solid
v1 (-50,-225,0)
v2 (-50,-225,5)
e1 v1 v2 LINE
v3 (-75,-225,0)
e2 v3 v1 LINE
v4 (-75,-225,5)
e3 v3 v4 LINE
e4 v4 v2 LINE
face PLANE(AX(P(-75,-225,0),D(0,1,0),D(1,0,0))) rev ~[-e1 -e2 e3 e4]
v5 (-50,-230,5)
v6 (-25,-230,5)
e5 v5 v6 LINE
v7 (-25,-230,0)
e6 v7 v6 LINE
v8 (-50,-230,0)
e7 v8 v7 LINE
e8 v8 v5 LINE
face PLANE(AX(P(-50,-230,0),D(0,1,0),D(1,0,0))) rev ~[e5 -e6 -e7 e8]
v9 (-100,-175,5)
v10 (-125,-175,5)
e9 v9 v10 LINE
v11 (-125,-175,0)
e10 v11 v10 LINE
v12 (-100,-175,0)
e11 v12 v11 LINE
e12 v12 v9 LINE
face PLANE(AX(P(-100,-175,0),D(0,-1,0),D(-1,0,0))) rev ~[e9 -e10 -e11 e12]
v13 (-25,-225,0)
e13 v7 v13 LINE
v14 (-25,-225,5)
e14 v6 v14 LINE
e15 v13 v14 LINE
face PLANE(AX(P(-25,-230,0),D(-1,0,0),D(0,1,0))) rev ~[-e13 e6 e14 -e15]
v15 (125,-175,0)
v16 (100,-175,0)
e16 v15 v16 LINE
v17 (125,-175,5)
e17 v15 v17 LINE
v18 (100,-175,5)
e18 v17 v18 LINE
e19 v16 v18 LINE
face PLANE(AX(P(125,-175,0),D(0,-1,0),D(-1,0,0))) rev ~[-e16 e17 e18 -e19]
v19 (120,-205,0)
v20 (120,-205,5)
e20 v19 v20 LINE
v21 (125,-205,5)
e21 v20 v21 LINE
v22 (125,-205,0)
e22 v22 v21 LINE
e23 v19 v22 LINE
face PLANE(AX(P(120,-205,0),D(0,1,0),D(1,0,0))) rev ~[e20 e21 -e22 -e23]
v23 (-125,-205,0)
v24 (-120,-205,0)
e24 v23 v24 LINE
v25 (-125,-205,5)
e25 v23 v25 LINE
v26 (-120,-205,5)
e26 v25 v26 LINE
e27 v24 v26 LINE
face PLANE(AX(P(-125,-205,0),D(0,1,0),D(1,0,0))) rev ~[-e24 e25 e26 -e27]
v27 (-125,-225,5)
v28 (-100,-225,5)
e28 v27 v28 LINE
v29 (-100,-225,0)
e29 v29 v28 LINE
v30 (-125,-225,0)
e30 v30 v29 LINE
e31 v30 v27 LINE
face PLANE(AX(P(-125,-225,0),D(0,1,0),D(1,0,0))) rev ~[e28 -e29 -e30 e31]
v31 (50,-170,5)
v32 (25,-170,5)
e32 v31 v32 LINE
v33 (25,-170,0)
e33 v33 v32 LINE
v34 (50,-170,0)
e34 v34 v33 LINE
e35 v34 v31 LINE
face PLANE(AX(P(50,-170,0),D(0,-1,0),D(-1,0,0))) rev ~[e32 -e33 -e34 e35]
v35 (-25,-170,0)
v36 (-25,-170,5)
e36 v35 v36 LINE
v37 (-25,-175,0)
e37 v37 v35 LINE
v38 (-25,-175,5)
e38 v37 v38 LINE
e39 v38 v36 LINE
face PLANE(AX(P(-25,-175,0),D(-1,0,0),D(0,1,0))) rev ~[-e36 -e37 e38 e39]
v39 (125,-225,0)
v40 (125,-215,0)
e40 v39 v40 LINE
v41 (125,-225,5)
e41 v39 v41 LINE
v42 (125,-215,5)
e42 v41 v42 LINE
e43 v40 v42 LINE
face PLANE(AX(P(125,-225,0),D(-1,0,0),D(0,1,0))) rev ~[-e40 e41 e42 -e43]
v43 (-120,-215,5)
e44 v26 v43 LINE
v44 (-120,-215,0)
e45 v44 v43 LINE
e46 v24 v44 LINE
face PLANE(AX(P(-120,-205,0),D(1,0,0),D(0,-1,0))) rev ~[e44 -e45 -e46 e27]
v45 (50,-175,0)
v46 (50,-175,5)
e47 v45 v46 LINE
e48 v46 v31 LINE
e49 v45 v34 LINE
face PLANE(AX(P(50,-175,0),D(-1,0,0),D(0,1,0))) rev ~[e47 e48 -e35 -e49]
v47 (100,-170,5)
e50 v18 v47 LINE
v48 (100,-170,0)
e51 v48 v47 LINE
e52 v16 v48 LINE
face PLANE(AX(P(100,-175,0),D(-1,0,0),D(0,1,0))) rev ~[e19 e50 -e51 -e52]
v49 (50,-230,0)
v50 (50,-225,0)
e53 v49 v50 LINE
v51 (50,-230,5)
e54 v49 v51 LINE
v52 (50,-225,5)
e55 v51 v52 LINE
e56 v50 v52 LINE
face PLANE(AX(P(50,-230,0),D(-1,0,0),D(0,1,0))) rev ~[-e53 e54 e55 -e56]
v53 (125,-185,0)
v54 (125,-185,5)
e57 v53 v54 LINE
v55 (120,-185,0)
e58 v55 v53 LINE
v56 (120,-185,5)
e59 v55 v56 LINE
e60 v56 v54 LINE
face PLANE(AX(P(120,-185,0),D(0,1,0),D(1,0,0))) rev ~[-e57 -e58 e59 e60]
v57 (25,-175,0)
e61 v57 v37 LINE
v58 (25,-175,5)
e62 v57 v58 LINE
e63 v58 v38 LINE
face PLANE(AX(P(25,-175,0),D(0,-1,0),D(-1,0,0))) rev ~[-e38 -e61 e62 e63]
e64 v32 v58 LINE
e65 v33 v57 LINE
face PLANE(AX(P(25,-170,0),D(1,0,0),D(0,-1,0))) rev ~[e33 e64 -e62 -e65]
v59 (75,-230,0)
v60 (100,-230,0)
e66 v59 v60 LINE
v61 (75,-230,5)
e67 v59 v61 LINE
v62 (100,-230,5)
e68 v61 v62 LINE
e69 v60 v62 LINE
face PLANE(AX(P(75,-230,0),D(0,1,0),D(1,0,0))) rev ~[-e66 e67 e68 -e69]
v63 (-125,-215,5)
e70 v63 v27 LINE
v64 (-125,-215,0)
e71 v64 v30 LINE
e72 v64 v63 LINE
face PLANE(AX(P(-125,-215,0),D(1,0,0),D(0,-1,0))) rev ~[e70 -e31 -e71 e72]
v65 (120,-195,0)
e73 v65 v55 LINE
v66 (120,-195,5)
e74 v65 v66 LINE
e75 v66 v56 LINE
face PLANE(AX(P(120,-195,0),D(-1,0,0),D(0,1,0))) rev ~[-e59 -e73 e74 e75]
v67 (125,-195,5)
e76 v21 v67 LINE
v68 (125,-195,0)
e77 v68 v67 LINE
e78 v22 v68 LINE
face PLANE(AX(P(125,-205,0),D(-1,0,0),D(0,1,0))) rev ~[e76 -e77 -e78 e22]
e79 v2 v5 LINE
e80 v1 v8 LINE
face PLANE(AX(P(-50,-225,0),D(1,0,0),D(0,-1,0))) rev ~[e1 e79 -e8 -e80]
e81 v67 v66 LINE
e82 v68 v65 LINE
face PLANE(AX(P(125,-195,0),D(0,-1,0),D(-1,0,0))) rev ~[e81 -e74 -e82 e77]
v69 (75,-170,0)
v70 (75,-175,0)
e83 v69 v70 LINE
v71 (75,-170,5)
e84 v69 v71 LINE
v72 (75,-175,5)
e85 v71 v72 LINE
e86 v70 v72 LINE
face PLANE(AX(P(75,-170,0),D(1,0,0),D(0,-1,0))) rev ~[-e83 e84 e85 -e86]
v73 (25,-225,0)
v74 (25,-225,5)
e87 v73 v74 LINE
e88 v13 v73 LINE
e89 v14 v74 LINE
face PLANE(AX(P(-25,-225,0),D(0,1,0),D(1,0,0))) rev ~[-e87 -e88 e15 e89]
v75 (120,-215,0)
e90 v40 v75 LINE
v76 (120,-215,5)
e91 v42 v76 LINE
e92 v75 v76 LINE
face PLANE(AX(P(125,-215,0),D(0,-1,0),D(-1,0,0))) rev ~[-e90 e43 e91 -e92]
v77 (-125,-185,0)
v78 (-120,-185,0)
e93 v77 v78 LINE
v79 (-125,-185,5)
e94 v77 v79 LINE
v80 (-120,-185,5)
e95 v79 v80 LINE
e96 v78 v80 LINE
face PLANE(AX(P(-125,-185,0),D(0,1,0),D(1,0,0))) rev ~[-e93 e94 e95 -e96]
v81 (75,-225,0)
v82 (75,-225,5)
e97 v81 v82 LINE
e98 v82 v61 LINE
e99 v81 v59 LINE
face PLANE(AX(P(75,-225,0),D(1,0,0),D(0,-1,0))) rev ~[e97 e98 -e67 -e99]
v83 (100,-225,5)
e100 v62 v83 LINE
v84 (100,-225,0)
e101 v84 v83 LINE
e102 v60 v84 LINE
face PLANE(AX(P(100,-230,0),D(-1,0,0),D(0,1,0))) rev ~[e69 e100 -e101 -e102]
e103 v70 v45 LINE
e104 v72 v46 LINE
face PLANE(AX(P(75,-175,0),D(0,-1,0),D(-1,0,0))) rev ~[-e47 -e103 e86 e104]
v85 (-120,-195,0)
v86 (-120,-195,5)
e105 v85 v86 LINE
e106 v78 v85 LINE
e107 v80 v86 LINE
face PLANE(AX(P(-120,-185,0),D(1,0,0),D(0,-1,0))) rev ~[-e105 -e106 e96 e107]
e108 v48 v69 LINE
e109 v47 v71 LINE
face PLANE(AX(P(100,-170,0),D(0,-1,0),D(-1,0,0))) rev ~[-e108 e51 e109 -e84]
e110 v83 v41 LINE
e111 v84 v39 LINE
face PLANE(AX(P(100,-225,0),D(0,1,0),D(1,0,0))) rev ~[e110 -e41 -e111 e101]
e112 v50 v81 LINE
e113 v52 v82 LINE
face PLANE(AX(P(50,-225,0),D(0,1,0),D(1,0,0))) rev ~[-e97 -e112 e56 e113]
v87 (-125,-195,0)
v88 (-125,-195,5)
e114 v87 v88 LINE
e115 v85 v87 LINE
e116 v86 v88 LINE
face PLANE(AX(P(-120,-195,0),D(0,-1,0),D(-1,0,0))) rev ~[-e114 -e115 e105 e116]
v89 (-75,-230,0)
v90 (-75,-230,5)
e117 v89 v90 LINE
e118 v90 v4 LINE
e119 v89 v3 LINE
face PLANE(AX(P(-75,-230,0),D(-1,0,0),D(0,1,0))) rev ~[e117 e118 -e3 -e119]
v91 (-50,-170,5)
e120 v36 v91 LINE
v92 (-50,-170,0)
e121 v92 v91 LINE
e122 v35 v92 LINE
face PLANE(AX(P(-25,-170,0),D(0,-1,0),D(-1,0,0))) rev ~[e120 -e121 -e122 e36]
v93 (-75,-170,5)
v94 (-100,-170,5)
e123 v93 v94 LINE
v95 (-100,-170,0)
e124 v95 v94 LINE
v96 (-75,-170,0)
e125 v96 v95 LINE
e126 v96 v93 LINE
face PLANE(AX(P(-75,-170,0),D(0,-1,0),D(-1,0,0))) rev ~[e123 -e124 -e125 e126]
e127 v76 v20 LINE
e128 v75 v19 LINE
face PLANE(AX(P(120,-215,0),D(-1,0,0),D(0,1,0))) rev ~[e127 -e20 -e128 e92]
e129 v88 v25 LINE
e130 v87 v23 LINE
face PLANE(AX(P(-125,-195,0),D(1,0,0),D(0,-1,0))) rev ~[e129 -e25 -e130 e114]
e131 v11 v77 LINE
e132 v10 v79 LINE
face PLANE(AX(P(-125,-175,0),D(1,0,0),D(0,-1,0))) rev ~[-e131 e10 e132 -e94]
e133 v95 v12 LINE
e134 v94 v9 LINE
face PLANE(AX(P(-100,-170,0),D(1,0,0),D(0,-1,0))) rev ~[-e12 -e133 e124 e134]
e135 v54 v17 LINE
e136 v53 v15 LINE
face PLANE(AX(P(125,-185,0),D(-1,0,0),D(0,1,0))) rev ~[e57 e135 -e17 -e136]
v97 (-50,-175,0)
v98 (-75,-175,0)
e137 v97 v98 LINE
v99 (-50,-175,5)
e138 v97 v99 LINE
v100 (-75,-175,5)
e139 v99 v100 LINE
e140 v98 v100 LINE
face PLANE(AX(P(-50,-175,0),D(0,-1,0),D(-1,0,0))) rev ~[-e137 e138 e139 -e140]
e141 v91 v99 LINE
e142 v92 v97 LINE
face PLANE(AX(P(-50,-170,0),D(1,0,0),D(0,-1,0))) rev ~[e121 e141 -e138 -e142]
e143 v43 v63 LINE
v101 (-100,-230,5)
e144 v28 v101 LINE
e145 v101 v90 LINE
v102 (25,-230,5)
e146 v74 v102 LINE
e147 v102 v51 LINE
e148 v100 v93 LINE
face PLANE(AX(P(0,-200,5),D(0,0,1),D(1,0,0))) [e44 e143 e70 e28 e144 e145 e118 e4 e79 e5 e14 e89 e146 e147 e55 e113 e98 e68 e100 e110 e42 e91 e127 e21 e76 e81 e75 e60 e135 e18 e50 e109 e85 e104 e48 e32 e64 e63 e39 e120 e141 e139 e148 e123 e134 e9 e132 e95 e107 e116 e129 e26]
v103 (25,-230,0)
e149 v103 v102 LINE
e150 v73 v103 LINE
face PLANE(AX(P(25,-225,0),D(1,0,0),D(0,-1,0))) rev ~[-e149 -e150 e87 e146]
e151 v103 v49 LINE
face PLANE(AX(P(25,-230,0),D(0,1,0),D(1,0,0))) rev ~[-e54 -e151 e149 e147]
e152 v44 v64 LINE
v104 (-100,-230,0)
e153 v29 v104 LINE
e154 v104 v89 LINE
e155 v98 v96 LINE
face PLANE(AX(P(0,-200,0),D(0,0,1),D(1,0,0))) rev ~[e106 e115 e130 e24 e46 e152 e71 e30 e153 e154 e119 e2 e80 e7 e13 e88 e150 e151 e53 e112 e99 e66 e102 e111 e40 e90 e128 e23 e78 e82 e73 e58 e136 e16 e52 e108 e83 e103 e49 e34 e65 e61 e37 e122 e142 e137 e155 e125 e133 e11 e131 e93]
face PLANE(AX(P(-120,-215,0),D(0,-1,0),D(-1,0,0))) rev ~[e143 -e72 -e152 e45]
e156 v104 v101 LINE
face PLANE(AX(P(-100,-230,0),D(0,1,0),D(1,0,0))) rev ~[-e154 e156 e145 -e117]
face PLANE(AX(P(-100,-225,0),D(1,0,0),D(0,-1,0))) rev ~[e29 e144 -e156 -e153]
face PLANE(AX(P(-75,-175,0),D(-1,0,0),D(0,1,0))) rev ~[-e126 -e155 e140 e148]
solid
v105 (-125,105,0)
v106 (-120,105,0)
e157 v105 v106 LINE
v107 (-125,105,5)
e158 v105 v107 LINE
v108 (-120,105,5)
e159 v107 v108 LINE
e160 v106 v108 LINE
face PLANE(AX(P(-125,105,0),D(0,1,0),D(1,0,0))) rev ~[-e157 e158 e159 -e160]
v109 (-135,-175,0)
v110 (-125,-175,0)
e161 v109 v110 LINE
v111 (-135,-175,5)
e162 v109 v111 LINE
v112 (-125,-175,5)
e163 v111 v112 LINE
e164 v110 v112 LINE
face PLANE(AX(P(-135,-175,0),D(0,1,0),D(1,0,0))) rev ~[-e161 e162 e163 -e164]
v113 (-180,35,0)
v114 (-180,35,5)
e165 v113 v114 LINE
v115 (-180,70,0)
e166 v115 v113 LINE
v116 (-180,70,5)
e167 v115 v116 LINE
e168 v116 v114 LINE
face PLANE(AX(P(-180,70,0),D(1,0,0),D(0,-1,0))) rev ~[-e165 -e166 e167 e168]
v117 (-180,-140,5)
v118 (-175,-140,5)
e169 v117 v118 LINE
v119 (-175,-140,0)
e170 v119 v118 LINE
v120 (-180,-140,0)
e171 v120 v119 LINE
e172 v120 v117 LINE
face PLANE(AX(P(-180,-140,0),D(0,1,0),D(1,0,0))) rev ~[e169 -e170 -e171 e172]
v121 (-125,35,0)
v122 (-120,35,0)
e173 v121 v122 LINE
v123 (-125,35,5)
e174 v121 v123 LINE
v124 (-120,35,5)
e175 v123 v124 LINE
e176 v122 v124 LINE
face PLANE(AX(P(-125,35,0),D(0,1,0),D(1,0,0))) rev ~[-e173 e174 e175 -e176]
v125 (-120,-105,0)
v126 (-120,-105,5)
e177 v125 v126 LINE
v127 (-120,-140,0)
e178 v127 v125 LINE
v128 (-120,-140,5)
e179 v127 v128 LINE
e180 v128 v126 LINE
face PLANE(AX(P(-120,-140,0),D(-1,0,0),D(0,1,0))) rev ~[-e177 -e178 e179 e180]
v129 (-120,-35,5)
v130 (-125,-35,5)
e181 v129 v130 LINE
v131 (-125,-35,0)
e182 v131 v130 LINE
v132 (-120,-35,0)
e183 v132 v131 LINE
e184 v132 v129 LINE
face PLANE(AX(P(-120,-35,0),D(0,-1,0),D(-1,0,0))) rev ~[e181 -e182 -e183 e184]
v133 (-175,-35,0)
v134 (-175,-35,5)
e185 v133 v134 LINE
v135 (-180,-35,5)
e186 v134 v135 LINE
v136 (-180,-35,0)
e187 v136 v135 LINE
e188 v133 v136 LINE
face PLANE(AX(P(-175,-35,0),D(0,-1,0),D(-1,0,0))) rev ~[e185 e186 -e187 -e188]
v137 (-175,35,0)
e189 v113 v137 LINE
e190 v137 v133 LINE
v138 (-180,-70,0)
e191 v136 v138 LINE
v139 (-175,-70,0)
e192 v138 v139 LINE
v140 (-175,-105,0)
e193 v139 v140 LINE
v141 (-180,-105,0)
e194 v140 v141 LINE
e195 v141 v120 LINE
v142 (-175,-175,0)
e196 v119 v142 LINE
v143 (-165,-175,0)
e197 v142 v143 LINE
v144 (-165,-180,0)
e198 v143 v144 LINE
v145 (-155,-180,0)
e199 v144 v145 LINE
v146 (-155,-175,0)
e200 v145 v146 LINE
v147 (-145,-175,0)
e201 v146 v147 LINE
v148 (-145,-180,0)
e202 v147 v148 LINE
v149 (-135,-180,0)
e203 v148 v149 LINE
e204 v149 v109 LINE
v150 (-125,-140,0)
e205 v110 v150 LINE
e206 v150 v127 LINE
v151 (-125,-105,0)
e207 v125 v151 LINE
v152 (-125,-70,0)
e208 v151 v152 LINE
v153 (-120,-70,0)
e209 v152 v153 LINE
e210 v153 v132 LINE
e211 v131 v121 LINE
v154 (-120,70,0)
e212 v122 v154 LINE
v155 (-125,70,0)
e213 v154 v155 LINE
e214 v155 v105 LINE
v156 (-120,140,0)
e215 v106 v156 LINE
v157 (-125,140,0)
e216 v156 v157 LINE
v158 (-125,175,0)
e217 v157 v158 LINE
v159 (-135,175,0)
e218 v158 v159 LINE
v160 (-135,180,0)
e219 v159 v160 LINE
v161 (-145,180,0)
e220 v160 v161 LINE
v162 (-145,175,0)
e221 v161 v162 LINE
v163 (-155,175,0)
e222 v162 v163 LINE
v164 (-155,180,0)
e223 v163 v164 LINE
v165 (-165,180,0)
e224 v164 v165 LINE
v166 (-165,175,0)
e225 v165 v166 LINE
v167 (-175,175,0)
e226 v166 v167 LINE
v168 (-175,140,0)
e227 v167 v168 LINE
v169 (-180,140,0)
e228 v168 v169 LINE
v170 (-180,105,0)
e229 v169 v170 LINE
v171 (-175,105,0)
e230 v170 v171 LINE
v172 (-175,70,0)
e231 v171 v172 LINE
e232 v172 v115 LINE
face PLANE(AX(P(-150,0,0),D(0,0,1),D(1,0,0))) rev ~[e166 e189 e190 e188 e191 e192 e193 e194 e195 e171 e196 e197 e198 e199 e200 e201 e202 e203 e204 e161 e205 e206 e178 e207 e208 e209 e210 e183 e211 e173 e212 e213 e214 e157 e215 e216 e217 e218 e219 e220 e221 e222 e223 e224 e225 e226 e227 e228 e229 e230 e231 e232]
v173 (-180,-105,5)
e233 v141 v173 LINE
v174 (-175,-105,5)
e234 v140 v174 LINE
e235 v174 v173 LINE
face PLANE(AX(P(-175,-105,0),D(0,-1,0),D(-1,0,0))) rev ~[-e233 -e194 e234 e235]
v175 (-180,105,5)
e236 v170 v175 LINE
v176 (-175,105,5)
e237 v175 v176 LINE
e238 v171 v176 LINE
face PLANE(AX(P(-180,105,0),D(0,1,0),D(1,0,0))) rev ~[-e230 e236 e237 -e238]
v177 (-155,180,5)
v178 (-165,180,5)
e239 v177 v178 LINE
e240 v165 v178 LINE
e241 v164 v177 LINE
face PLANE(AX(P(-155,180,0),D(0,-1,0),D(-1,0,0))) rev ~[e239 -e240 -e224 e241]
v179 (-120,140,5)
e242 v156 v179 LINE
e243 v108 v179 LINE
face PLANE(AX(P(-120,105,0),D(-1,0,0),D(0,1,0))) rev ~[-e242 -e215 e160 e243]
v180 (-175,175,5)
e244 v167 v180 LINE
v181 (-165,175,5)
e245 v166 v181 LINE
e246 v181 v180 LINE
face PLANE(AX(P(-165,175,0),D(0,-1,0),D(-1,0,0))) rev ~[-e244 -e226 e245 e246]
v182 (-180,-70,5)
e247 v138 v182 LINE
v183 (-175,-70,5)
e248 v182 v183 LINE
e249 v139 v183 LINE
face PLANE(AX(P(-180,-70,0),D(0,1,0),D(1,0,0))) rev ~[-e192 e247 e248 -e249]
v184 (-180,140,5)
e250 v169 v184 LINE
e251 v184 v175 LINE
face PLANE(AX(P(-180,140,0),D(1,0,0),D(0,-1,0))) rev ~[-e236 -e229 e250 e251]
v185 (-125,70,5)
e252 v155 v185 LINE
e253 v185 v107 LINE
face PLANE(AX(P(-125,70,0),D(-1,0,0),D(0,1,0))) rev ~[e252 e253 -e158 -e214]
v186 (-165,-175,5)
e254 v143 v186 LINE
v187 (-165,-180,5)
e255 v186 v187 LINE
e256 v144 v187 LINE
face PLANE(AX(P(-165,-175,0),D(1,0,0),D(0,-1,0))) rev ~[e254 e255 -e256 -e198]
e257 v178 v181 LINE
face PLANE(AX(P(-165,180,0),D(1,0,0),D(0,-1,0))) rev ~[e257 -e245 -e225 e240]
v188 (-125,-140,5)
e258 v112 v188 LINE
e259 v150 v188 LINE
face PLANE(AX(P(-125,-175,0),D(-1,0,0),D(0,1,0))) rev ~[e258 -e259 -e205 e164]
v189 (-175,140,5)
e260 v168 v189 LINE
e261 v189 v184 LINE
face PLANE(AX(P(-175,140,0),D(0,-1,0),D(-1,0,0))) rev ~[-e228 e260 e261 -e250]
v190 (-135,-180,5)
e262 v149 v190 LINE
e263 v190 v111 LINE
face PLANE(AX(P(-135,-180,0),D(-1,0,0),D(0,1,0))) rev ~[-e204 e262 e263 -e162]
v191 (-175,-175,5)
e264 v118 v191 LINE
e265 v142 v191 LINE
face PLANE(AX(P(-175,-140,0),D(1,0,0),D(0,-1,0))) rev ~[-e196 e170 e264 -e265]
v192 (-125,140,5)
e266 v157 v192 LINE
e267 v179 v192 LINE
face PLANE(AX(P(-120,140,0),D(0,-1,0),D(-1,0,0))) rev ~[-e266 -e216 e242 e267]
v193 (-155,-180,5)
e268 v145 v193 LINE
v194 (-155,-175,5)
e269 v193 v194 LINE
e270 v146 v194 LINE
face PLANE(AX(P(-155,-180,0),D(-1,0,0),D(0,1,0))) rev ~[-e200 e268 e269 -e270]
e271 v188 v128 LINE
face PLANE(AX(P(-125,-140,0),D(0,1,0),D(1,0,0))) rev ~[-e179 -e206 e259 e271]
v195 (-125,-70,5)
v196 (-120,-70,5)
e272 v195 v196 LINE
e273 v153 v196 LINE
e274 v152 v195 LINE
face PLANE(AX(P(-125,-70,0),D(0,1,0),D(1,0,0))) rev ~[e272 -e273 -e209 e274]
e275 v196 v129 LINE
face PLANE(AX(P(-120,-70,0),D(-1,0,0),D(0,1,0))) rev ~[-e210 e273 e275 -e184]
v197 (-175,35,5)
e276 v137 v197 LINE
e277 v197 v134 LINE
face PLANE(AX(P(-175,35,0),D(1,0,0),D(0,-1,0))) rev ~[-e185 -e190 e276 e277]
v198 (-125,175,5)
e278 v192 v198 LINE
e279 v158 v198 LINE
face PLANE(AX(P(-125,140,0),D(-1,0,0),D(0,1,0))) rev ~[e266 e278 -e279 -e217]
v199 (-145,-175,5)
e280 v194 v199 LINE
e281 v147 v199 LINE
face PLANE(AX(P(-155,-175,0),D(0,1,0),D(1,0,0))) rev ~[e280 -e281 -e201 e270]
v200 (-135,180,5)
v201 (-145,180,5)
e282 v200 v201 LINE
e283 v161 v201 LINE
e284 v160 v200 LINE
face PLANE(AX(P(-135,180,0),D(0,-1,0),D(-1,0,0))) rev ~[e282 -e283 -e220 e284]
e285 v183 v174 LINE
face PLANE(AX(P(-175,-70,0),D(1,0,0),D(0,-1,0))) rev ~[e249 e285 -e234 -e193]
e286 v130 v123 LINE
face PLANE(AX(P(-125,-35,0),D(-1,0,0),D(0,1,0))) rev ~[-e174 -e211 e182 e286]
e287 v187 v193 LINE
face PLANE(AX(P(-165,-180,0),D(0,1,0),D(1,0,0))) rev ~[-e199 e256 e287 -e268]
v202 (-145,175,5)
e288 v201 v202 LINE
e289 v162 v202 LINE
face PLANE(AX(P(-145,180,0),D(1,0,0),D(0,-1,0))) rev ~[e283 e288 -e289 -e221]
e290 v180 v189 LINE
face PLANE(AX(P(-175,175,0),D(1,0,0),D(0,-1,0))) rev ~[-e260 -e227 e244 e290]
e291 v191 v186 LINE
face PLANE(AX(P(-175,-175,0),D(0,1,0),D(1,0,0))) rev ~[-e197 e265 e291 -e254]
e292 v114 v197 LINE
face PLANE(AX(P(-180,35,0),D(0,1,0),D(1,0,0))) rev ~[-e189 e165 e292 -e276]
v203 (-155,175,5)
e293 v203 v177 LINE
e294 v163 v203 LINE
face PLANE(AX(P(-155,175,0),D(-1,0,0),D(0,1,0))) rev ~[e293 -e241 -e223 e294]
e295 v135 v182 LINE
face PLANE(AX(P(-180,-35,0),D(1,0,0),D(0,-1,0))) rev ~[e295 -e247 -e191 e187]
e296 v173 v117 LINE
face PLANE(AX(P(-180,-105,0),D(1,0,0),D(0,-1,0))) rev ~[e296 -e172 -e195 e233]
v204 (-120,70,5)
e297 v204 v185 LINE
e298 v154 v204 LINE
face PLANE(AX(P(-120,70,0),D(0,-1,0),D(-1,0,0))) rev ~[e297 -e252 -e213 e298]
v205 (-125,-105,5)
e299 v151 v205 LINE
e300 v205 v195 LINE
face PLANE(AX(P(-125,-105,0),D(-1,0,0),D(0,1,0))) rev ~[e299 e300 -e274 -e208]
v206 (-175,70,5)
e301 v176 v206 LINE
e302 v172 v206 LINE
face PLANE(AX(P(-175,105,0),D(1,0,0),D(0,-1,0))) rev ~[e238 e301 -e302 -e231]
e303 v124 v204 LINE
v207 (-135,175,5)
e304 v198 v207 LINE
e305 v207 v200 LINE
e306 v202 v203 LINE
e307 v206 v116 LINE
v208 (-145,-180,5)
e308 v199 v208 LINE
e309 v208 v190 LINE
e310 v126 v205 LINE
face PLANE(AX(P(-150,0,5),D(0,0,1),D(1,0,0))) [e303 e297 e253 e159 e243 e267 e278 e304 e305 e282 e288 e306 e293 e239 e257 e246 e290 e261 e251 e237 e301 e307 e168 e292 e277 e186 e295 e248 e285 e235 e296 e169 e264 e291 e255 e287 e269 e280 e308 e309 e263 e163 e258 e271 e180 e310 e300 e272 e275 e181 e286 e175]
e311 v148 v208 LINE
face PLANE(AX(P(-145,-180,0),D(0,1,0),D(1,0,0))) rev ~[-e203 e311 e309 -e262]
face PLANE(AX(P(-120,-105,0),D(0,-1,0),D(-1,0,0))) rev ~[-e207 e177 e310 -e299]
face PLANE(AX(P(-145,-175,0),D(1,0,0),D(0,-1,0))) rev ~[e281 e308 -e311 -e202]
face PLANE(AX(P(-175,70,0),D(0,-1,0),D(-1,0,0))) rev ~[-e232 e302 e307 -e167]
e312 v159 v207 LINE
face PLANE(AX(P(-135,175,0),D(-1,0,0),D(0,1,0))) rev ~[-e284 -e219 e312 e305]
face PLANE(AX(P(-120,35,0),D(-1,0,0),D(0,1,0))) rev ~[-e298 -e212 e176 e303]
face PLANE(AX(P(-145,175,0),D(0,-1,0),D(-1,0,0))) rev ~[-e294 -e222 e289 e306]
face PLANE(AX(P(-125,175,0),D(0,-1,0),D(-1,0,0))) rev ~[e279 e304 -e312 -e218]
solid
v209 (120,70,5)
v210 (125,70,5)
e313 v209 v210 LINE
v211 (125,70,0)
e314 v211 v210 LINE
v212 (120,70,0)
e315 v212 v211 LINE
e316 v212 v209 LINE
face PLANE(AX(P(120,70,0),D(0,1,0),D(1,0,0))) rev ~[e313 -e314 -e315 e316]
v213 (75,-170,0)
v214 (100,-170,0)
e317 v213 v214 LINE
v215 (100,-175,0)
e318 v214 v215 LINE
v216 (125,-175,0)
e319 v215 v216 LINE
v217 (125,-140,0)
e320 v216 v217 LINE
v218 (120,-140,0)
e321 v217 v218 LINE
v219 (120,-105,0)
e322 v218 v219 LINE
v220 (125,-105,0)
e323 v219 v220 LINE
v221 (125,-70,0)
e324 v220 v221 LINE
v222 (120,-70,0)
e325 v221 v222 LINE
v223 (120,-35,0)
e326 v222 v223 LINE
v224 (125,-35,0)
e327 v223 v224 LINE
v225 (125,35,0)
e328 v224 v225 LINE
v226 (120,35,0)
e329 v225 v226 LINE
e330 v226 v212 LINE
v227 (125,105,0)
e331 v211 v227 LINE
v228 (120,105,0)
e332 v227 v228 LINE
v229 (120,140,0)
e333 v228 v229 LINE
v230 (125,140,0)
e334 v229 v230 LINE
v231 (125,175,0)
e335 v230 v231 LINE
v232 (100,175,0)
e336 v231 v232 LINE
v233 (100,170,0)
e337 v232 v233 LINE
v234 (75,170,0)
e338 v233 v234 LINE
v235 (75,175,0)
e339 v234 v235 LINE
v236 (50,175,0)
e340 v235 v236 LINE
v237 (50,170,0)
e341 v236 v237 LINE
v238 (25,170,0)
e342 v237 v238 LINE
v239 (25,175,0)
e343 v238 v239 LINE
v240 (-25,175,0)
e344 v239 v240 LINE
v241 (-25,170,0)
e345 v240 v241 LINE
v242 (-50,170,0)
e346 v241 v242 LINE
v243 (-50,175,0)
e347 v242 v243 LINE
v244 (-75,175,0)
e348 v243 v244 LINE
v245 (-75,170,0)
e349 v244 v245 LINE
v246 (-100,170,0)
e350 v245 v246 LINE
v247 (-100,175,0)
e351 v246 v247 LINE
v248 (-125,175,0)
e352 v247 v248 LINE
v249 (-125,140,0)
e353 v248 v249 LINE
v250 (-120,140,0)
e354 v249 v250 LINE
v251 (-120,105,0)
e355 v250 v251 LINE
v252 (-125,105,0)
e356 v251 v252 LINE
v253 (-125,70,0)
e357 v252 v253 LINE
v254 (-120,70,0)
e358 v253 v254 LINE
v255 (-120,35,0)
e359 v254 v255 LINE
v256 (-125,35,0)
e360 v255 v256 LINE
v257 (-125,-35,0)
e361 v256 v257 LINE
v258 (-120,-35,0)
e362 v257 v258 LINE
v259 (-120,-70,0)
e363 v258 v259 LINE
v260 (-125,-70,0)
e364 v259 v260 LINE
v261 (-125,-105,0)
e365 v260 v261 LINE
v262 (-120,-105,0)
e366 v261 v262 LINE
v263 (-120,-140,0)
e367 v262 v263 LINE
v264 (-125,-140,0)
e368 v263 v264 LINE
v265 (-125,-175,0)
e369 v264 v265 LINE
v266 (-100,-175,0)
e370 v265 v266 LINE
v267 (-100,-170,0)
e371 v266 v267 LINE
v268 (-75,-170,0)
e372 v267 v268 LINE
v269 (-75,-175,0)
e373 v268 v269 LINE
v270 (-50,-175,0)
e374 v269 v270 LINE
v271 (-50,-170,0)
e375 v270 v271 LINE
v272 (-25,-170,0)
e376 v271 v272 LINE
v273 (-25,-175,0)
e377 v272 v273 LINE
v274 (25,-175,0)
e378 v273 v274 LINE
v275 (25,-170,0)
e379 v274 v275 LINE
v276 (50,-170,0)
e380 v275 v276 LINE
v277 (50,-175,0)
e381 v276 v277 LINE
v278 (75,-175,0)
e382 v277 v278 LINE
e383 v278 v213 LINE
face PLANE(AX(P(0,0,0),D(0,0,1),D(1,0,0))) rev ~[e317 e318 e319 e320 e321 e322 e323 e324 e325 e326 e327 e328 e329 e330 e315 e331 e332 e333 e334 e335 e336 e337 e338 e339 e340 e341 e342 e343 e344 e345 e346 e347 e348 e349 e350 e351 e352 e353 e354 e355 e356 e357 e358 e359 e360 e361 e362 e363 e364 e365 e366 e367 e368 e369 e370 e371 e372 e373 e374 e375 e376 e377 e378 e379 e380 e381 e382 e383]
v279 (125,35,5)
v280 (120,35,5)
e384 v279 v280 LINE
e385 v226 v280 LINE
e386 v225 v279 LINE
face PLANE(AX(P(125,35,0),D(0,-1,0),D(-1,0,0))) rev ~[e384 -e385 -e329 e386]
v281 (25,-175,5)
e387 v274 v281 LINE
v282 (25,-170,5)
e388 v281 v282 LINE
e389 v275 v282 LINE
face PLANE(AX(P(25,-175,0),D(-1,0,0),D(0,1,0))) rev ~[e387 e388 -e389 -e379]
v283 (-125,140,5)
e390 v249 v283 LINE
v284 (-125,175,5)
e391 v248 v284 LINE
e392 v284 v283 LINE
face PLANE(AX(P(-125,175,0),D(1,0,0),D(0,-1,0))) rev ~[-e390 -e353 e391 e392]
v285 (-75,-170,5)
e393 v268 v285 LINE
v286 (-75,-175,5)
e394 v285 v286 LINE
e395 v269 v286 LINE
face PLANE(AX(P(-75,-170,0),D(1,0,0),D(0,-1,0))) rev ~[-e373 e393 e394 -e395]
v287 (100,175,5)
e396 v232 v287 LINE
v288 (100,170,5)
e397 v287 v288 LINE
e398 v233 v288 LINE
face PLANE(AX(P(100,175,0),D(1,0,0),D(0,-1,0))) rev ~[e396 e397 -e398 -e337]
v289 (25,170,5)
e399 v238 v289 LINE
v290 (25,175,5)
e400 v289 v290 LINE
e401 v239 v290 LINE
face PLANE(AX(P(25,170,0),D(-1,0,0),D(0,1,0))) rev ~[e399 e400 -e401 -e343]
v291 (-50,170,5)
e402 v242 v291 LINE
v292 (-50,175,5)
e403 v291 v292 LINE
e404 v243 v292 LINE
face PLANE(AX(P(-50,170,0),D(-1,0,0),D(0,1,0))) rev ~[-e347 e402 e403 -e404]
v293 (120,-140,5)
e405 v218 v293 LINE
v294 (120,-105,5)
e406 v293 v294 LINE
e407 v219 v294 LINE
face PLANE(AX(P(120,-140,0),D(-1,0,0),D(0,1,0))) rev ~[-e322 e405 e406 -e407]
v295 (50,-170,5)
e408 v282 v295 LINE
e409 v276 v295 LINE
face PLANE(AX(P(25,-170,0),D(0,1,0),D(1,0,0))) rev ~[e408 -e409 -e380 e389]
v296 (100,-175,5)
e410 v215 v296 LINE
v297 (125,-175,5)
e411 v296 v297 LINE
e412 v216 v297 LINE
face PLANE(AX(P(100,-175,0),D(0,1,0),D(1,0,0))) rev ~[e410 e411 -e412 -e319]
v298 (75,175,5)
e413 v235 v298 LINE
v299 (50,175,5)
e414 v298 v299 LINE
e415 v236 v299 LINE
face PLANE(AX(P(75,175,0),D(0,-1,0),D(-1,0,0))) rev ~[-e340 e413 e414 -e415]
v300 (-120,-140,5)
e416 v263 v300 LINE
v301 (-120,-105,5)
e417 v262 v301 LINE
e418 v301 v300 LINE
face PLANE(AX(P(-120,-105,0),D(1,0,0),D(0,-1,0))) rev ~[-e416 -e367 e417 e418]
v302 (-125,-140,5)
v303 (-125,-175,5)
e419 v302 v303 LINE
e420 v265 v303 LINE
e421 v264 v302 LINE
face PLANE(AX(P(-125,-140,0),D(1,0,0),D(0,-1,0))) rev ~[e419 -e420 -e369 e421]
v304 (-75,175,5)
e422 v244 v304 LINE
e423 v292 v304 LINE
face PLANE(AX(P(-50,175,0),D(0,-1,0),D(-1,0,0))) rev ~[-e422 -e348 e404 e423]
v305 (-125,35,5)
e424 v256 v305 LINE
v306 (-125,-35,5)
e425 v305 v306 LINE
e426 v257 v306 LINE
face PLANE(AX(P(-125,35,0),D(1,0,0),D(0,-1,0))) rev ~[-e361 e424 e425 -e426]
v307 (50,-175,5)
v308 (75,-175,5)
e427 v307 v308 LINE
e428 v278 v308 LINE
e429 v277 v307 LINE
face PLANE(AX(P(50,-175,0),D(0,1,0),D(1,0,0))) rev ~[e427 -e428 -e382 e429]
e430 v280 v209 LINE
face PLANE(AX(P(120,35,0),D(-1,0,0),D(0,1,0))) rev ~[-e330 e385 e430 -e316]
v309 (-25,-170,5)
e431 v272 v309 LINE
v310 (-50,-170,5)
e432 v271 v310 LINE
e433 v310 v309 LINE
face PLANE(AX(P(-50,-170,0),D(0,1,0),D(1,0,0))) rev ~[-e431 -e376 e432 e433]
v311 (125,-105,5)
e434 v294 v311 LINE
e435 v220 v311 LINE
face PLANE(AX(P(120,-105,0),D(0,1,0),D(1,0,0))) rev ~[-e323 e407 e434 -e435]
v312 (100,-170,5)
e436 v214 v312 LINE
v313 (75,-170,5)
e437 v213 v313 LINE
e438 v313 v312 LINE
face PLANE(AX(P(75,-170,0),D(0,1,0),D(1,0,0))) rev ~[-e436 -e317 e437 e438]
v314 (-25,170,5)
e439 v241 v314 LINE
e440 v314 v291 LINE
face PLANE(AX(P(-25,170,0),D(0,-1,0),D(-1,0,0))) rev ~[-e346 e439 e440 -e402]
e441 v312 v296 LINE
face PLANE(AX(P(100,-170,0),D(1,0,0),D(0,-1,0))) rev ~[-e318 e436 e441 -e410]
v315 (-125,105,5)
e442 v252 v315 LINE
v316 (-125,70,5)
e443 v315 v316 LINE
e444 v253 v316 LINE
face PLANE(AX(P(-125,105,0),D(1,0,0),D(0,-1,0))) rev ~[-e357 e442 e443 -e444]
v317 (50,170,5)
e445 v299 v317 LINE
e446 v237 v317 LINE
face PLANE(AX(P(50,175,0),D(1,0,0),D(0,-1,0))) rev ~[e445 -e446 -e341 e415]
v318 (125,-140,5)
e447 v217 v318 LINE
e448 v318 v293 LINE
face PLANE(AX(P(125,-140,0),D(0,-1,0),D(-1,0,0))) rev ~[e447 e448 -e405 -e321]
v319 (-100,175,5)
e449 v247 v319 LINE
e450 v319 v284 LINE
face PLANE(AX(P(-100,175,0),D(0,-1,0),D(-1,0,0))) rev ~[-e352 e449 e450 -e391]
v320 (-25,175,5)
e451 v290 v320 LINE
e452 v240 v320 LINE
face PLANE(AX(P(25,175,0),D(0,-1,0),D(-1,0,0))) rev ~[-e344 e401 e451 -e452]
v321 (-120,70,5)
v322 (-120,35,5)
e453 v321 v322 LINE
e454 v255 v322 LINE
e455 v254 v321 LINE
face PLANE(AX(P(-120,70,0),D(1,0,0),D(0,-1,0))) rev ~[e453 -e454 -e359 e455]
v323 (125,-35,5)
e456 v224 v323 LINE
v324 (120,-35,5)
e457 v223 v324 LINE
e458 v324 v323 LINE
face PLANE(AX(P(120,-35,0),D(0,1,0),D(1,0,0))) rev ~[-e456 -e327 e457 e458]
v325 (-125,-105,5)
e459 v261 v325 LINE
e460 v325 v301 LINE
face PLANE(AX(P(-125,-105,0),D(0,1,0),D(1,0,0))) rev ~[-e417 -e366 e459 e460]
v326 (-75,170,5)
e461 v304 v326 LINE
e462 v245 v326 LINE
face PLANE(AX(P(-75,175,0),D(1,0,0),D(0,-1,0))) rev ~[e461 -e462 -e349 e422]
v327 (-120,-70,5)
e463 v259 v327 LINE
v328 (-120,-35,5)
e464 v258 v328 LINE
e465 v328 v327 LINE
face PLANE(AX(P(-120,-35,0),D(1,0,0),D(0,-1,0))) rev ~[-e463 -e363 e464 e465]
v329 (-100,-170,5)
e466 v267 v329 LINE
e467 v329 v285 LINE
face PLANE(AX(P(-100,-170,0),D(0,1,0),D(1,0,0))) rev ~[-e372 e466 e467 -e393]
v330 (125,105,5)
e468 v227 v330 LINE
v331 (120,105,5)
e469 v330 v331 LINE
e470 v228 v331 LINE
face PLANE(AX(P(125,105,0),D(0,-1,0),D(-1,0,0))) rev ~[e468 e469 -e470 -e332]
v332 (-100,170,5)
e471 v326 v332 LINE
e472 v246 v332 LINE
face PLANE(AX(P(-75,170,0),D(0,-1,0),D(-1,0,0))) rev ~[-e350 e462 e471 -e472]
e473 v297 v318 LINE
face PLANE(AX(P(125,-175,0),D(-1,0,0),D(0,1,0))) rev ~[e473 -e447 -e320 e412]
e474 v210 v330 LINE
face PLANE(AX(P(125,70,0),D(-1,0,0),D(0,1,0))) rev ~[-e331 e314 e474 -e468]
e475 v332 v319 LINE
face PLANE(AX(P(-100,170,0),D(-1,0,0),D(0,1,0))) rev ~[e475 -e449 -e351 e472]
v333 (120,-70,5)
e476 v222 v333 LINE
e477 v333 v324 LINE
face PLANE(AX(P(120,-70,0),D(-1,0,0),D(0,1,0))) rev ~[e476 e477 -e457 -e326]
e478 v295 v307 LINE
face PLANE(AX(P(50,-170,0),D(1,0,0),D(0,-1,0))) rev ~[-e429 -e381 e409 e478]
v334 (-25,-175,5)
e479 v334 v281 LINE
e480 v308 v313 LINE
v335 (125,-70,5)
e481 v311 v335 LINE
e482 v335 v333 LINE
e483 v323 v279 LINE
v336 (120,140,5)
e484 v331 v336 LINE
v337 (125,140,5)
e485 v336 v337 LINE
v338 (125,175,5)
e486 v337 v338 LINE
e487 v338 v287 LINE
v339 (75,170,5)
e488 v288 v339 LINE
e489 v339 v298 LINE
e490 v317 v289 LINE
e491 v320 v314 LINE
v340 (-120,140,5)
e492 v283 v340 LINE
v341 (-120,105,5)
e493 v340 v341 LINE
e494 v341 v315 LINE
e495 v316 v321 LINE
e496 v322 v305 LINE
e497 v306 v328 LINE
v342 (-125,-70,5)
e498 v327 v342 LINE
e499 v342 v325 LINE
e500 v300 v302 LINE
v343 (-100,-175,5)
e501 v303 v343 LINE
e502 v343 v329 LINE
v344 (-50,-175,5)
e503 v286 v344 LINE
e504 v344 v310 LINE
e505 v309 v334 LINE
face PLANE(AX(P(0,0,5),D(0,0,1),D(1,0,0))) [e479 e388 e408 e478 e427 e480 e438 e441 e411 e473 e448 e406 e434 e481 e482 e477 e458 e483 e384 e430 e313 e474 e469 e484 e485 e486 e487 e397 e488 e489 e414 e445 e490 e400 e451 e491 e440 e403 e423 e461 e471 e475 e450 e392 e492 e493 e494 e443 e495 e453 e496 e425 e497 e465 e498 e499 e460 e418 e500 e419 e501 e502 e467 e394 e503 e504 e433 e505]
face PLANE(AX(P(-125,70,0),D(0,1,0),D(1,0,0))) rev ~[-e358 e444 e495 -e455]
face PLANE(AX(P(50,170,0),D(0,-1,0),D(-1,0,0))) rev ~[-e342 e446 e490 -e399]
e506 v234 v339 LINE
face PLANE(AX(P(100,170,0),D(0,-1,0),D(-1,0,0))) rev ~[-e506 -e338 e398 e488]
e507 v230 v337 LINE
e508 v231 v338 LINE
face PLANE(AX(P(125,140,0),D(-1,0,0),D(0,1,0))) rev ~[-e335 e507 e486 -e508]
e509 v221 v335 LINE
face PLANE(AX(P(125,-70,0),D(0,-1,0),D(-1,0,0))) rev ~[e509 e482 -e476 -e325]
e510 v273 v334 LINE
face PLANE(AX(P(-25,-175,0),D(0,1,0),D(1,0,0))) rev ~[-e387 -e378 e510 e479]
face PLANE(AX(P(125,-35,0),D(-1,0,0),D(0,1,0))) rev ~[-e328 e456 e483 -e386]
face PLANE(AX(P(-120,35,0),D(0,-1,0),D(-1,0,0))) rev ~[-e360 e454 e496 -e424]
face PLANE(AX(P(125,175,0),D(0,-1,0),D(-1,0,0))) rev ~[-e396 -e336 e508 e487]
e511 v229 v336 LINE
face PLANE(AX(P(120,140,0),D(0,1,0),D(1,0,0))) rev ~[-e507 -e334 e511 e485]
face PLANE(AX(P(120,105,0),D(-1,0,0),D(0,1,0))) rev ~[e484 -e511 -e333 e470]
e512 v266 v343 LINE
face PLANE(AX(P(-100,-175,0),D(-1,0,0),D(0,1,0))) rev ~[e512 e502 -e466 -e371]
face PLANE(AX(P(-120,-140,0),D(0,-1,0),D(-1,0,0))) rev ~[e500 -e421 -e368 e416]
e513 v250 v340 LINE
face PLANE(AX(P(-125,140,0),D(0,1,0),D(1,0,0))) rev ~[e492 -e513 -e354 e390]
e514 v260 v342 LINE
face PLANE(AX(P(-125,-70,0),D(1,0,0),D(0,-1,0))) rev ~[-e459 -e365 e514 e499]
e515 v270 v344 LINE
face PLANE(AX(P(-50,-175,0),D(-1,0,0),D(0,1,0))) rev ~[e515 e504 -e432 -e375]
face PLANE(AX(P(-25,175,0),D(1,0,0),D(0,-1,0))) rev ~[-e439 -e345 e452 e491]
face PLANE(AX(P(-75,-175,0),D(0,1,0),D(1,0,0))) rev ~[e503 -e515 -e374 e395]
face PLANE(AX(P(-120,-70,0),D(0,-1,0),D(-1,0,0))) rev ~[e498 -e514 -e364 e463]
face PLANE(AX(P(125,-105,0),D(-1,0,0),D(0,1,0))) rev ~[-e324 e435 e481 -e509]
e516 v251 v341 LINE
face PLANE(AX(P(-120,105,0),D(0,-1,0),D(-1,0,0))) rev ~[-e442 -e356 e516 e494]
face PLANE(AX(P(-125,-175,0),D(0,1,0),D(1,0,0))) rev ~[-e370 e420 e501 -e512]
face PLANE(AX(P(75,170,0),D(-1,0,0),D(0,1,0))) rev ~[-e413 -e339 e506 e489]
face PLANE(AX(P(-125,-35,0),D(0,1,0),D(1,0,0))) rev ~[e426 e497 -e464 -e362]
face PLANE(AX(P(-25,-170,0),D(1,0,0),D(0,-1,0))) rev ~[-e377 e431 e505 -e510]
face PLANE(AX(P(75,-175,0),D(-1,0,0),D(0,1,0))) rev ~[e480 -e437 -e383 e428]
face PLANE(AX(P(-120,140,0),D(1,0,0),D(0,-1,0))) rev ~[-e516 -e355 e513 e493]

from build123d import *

# Parameters (mm, degrees)
F2_DEPTH = 5
F3_DEPTH = 5
F4_DEPTH = 5


with BuildPart() as f2:
    # F1 (on Top) → F2 (new body)
    with BuildSketch(Plane.XY):
        Polygon((120, -175), (125, -175), (125, -170), (125, -140), (120, -140), (120, -105), (125, -105), (125, -70), (120, -70), (120, -35), (125, -35), (125, 35), (120, 35), (120, 70), (125, 70), (125, 105), (120, 105), (120, 140), (125, 140), (125, 170), (125, 175), (100, 175), (100, 170), (75, 170), (75, 175), (50, 175), (50, 170), (25, 170), (25, 175), (0, 175), (-25, 175), (-25, 170), (-50, 170), (-50, 175), (-75, 175), (-75, 170), (-100, 170), (-100, 175), (-125, 175), (-125, 140), (-120, 140), (-120, 105), (-125, 105), (-125, 70), (-120, 70), (-120, 35), (-125, 35), (-125, 0), (-125, -35), (-120, -35), (-120, -70), (-125, -70), (-125, -105), (-120, -105), (-120, -140), (-125, -140), (-125, -175), (-120, -175), (-100, -175), (-100, -170), (-75, -170), (-75, -175), (-50, -175), (-50, -170), (-25, -170), (-25, -175), (0, -175), (25, -175), (25, -170), (50, -170), (50, -175), (75, -175), (75, -170), (100, -170), (100, -175), align=None)
    extrude(amount=F2_DEPTH)


with BuildPart() as f3:
    # F1 (on Top) → F3 (new body)
    with BuildSketch(Plane.XY):
        Polygon((-135, -175), (-125, -175), (-125, -140), (-120, -140), (-120, -105), (-125, -105), (-125, -70), (-120, -70), (-120, -35), (-125, -35), (-125, 0), (-125, 35), (-120, 35), (-120, 70), (-125, 70), (-125, 105), (-120, 105), (-120, 140), (-125, 140), (-125, 175), (-135, 175), (-135, 180), (-145, 180), (-145, 175), (-155, 175), (-155, 180), (-165, 180), (-165, 175), (-175, 175), (-175, 140), (-180, 140), (-180, 105), (-175, 105), (-175, 70), (-180, 70), (-180, 35), (-175, 35), (-175, -35), (-180, -35), (-180, -70), (-175, -70), (-175, -105), (-180, -105), (-180, -140), (-175, -140), (-175, -175), (-165, -175), (-165, -180), (-155, -180), (-155, -175), (-145, -175), (-145, -180), (-135, -180), align=None)
    extrude(amount=F3_DEPTH)


with BuildPart() as f4:
    # F1 (on Top) → F4 (new body)
    with BuildSketch(Plane.XY):
        Polygon((125, -185), (125, -175), (120, -175), (100, -175), (100, -170), (75, -170), (75, -175), (50, -175), (50, -170), (25, -170), (25, -175), (0, -175), (-25, -175), (-25, -170), (-50, -170), (-50, -175), (-75, -175), (-75, -170), (-100, -170), (-100, -175), (-120, -175), (-125, -175), (-125, -185), (-120, -185), (-120, -195), (-125, -195), (-125, -205), (-120, -205), (-120, -215), (-125, -215), (-125, -225), (-100, -225), (-100, -230), (-75, -230), (-75, -225), (-50, -225), (-50, -230), (-25, -230), (-25, -225), (0, -225), (25, -225), (25, -230), (50, -230), (50, -225), (75, -225), (75, -230), (100, -230), (100, -225), (125, -225), (125, -215), (120, -215), (120, -205), (125, -205), (125, -195), (120, -195), (120, -185), align=None)
    extrude(amount=F4_DEPTH)


solid = Compound([f2.part, f3.part, f4.part])
